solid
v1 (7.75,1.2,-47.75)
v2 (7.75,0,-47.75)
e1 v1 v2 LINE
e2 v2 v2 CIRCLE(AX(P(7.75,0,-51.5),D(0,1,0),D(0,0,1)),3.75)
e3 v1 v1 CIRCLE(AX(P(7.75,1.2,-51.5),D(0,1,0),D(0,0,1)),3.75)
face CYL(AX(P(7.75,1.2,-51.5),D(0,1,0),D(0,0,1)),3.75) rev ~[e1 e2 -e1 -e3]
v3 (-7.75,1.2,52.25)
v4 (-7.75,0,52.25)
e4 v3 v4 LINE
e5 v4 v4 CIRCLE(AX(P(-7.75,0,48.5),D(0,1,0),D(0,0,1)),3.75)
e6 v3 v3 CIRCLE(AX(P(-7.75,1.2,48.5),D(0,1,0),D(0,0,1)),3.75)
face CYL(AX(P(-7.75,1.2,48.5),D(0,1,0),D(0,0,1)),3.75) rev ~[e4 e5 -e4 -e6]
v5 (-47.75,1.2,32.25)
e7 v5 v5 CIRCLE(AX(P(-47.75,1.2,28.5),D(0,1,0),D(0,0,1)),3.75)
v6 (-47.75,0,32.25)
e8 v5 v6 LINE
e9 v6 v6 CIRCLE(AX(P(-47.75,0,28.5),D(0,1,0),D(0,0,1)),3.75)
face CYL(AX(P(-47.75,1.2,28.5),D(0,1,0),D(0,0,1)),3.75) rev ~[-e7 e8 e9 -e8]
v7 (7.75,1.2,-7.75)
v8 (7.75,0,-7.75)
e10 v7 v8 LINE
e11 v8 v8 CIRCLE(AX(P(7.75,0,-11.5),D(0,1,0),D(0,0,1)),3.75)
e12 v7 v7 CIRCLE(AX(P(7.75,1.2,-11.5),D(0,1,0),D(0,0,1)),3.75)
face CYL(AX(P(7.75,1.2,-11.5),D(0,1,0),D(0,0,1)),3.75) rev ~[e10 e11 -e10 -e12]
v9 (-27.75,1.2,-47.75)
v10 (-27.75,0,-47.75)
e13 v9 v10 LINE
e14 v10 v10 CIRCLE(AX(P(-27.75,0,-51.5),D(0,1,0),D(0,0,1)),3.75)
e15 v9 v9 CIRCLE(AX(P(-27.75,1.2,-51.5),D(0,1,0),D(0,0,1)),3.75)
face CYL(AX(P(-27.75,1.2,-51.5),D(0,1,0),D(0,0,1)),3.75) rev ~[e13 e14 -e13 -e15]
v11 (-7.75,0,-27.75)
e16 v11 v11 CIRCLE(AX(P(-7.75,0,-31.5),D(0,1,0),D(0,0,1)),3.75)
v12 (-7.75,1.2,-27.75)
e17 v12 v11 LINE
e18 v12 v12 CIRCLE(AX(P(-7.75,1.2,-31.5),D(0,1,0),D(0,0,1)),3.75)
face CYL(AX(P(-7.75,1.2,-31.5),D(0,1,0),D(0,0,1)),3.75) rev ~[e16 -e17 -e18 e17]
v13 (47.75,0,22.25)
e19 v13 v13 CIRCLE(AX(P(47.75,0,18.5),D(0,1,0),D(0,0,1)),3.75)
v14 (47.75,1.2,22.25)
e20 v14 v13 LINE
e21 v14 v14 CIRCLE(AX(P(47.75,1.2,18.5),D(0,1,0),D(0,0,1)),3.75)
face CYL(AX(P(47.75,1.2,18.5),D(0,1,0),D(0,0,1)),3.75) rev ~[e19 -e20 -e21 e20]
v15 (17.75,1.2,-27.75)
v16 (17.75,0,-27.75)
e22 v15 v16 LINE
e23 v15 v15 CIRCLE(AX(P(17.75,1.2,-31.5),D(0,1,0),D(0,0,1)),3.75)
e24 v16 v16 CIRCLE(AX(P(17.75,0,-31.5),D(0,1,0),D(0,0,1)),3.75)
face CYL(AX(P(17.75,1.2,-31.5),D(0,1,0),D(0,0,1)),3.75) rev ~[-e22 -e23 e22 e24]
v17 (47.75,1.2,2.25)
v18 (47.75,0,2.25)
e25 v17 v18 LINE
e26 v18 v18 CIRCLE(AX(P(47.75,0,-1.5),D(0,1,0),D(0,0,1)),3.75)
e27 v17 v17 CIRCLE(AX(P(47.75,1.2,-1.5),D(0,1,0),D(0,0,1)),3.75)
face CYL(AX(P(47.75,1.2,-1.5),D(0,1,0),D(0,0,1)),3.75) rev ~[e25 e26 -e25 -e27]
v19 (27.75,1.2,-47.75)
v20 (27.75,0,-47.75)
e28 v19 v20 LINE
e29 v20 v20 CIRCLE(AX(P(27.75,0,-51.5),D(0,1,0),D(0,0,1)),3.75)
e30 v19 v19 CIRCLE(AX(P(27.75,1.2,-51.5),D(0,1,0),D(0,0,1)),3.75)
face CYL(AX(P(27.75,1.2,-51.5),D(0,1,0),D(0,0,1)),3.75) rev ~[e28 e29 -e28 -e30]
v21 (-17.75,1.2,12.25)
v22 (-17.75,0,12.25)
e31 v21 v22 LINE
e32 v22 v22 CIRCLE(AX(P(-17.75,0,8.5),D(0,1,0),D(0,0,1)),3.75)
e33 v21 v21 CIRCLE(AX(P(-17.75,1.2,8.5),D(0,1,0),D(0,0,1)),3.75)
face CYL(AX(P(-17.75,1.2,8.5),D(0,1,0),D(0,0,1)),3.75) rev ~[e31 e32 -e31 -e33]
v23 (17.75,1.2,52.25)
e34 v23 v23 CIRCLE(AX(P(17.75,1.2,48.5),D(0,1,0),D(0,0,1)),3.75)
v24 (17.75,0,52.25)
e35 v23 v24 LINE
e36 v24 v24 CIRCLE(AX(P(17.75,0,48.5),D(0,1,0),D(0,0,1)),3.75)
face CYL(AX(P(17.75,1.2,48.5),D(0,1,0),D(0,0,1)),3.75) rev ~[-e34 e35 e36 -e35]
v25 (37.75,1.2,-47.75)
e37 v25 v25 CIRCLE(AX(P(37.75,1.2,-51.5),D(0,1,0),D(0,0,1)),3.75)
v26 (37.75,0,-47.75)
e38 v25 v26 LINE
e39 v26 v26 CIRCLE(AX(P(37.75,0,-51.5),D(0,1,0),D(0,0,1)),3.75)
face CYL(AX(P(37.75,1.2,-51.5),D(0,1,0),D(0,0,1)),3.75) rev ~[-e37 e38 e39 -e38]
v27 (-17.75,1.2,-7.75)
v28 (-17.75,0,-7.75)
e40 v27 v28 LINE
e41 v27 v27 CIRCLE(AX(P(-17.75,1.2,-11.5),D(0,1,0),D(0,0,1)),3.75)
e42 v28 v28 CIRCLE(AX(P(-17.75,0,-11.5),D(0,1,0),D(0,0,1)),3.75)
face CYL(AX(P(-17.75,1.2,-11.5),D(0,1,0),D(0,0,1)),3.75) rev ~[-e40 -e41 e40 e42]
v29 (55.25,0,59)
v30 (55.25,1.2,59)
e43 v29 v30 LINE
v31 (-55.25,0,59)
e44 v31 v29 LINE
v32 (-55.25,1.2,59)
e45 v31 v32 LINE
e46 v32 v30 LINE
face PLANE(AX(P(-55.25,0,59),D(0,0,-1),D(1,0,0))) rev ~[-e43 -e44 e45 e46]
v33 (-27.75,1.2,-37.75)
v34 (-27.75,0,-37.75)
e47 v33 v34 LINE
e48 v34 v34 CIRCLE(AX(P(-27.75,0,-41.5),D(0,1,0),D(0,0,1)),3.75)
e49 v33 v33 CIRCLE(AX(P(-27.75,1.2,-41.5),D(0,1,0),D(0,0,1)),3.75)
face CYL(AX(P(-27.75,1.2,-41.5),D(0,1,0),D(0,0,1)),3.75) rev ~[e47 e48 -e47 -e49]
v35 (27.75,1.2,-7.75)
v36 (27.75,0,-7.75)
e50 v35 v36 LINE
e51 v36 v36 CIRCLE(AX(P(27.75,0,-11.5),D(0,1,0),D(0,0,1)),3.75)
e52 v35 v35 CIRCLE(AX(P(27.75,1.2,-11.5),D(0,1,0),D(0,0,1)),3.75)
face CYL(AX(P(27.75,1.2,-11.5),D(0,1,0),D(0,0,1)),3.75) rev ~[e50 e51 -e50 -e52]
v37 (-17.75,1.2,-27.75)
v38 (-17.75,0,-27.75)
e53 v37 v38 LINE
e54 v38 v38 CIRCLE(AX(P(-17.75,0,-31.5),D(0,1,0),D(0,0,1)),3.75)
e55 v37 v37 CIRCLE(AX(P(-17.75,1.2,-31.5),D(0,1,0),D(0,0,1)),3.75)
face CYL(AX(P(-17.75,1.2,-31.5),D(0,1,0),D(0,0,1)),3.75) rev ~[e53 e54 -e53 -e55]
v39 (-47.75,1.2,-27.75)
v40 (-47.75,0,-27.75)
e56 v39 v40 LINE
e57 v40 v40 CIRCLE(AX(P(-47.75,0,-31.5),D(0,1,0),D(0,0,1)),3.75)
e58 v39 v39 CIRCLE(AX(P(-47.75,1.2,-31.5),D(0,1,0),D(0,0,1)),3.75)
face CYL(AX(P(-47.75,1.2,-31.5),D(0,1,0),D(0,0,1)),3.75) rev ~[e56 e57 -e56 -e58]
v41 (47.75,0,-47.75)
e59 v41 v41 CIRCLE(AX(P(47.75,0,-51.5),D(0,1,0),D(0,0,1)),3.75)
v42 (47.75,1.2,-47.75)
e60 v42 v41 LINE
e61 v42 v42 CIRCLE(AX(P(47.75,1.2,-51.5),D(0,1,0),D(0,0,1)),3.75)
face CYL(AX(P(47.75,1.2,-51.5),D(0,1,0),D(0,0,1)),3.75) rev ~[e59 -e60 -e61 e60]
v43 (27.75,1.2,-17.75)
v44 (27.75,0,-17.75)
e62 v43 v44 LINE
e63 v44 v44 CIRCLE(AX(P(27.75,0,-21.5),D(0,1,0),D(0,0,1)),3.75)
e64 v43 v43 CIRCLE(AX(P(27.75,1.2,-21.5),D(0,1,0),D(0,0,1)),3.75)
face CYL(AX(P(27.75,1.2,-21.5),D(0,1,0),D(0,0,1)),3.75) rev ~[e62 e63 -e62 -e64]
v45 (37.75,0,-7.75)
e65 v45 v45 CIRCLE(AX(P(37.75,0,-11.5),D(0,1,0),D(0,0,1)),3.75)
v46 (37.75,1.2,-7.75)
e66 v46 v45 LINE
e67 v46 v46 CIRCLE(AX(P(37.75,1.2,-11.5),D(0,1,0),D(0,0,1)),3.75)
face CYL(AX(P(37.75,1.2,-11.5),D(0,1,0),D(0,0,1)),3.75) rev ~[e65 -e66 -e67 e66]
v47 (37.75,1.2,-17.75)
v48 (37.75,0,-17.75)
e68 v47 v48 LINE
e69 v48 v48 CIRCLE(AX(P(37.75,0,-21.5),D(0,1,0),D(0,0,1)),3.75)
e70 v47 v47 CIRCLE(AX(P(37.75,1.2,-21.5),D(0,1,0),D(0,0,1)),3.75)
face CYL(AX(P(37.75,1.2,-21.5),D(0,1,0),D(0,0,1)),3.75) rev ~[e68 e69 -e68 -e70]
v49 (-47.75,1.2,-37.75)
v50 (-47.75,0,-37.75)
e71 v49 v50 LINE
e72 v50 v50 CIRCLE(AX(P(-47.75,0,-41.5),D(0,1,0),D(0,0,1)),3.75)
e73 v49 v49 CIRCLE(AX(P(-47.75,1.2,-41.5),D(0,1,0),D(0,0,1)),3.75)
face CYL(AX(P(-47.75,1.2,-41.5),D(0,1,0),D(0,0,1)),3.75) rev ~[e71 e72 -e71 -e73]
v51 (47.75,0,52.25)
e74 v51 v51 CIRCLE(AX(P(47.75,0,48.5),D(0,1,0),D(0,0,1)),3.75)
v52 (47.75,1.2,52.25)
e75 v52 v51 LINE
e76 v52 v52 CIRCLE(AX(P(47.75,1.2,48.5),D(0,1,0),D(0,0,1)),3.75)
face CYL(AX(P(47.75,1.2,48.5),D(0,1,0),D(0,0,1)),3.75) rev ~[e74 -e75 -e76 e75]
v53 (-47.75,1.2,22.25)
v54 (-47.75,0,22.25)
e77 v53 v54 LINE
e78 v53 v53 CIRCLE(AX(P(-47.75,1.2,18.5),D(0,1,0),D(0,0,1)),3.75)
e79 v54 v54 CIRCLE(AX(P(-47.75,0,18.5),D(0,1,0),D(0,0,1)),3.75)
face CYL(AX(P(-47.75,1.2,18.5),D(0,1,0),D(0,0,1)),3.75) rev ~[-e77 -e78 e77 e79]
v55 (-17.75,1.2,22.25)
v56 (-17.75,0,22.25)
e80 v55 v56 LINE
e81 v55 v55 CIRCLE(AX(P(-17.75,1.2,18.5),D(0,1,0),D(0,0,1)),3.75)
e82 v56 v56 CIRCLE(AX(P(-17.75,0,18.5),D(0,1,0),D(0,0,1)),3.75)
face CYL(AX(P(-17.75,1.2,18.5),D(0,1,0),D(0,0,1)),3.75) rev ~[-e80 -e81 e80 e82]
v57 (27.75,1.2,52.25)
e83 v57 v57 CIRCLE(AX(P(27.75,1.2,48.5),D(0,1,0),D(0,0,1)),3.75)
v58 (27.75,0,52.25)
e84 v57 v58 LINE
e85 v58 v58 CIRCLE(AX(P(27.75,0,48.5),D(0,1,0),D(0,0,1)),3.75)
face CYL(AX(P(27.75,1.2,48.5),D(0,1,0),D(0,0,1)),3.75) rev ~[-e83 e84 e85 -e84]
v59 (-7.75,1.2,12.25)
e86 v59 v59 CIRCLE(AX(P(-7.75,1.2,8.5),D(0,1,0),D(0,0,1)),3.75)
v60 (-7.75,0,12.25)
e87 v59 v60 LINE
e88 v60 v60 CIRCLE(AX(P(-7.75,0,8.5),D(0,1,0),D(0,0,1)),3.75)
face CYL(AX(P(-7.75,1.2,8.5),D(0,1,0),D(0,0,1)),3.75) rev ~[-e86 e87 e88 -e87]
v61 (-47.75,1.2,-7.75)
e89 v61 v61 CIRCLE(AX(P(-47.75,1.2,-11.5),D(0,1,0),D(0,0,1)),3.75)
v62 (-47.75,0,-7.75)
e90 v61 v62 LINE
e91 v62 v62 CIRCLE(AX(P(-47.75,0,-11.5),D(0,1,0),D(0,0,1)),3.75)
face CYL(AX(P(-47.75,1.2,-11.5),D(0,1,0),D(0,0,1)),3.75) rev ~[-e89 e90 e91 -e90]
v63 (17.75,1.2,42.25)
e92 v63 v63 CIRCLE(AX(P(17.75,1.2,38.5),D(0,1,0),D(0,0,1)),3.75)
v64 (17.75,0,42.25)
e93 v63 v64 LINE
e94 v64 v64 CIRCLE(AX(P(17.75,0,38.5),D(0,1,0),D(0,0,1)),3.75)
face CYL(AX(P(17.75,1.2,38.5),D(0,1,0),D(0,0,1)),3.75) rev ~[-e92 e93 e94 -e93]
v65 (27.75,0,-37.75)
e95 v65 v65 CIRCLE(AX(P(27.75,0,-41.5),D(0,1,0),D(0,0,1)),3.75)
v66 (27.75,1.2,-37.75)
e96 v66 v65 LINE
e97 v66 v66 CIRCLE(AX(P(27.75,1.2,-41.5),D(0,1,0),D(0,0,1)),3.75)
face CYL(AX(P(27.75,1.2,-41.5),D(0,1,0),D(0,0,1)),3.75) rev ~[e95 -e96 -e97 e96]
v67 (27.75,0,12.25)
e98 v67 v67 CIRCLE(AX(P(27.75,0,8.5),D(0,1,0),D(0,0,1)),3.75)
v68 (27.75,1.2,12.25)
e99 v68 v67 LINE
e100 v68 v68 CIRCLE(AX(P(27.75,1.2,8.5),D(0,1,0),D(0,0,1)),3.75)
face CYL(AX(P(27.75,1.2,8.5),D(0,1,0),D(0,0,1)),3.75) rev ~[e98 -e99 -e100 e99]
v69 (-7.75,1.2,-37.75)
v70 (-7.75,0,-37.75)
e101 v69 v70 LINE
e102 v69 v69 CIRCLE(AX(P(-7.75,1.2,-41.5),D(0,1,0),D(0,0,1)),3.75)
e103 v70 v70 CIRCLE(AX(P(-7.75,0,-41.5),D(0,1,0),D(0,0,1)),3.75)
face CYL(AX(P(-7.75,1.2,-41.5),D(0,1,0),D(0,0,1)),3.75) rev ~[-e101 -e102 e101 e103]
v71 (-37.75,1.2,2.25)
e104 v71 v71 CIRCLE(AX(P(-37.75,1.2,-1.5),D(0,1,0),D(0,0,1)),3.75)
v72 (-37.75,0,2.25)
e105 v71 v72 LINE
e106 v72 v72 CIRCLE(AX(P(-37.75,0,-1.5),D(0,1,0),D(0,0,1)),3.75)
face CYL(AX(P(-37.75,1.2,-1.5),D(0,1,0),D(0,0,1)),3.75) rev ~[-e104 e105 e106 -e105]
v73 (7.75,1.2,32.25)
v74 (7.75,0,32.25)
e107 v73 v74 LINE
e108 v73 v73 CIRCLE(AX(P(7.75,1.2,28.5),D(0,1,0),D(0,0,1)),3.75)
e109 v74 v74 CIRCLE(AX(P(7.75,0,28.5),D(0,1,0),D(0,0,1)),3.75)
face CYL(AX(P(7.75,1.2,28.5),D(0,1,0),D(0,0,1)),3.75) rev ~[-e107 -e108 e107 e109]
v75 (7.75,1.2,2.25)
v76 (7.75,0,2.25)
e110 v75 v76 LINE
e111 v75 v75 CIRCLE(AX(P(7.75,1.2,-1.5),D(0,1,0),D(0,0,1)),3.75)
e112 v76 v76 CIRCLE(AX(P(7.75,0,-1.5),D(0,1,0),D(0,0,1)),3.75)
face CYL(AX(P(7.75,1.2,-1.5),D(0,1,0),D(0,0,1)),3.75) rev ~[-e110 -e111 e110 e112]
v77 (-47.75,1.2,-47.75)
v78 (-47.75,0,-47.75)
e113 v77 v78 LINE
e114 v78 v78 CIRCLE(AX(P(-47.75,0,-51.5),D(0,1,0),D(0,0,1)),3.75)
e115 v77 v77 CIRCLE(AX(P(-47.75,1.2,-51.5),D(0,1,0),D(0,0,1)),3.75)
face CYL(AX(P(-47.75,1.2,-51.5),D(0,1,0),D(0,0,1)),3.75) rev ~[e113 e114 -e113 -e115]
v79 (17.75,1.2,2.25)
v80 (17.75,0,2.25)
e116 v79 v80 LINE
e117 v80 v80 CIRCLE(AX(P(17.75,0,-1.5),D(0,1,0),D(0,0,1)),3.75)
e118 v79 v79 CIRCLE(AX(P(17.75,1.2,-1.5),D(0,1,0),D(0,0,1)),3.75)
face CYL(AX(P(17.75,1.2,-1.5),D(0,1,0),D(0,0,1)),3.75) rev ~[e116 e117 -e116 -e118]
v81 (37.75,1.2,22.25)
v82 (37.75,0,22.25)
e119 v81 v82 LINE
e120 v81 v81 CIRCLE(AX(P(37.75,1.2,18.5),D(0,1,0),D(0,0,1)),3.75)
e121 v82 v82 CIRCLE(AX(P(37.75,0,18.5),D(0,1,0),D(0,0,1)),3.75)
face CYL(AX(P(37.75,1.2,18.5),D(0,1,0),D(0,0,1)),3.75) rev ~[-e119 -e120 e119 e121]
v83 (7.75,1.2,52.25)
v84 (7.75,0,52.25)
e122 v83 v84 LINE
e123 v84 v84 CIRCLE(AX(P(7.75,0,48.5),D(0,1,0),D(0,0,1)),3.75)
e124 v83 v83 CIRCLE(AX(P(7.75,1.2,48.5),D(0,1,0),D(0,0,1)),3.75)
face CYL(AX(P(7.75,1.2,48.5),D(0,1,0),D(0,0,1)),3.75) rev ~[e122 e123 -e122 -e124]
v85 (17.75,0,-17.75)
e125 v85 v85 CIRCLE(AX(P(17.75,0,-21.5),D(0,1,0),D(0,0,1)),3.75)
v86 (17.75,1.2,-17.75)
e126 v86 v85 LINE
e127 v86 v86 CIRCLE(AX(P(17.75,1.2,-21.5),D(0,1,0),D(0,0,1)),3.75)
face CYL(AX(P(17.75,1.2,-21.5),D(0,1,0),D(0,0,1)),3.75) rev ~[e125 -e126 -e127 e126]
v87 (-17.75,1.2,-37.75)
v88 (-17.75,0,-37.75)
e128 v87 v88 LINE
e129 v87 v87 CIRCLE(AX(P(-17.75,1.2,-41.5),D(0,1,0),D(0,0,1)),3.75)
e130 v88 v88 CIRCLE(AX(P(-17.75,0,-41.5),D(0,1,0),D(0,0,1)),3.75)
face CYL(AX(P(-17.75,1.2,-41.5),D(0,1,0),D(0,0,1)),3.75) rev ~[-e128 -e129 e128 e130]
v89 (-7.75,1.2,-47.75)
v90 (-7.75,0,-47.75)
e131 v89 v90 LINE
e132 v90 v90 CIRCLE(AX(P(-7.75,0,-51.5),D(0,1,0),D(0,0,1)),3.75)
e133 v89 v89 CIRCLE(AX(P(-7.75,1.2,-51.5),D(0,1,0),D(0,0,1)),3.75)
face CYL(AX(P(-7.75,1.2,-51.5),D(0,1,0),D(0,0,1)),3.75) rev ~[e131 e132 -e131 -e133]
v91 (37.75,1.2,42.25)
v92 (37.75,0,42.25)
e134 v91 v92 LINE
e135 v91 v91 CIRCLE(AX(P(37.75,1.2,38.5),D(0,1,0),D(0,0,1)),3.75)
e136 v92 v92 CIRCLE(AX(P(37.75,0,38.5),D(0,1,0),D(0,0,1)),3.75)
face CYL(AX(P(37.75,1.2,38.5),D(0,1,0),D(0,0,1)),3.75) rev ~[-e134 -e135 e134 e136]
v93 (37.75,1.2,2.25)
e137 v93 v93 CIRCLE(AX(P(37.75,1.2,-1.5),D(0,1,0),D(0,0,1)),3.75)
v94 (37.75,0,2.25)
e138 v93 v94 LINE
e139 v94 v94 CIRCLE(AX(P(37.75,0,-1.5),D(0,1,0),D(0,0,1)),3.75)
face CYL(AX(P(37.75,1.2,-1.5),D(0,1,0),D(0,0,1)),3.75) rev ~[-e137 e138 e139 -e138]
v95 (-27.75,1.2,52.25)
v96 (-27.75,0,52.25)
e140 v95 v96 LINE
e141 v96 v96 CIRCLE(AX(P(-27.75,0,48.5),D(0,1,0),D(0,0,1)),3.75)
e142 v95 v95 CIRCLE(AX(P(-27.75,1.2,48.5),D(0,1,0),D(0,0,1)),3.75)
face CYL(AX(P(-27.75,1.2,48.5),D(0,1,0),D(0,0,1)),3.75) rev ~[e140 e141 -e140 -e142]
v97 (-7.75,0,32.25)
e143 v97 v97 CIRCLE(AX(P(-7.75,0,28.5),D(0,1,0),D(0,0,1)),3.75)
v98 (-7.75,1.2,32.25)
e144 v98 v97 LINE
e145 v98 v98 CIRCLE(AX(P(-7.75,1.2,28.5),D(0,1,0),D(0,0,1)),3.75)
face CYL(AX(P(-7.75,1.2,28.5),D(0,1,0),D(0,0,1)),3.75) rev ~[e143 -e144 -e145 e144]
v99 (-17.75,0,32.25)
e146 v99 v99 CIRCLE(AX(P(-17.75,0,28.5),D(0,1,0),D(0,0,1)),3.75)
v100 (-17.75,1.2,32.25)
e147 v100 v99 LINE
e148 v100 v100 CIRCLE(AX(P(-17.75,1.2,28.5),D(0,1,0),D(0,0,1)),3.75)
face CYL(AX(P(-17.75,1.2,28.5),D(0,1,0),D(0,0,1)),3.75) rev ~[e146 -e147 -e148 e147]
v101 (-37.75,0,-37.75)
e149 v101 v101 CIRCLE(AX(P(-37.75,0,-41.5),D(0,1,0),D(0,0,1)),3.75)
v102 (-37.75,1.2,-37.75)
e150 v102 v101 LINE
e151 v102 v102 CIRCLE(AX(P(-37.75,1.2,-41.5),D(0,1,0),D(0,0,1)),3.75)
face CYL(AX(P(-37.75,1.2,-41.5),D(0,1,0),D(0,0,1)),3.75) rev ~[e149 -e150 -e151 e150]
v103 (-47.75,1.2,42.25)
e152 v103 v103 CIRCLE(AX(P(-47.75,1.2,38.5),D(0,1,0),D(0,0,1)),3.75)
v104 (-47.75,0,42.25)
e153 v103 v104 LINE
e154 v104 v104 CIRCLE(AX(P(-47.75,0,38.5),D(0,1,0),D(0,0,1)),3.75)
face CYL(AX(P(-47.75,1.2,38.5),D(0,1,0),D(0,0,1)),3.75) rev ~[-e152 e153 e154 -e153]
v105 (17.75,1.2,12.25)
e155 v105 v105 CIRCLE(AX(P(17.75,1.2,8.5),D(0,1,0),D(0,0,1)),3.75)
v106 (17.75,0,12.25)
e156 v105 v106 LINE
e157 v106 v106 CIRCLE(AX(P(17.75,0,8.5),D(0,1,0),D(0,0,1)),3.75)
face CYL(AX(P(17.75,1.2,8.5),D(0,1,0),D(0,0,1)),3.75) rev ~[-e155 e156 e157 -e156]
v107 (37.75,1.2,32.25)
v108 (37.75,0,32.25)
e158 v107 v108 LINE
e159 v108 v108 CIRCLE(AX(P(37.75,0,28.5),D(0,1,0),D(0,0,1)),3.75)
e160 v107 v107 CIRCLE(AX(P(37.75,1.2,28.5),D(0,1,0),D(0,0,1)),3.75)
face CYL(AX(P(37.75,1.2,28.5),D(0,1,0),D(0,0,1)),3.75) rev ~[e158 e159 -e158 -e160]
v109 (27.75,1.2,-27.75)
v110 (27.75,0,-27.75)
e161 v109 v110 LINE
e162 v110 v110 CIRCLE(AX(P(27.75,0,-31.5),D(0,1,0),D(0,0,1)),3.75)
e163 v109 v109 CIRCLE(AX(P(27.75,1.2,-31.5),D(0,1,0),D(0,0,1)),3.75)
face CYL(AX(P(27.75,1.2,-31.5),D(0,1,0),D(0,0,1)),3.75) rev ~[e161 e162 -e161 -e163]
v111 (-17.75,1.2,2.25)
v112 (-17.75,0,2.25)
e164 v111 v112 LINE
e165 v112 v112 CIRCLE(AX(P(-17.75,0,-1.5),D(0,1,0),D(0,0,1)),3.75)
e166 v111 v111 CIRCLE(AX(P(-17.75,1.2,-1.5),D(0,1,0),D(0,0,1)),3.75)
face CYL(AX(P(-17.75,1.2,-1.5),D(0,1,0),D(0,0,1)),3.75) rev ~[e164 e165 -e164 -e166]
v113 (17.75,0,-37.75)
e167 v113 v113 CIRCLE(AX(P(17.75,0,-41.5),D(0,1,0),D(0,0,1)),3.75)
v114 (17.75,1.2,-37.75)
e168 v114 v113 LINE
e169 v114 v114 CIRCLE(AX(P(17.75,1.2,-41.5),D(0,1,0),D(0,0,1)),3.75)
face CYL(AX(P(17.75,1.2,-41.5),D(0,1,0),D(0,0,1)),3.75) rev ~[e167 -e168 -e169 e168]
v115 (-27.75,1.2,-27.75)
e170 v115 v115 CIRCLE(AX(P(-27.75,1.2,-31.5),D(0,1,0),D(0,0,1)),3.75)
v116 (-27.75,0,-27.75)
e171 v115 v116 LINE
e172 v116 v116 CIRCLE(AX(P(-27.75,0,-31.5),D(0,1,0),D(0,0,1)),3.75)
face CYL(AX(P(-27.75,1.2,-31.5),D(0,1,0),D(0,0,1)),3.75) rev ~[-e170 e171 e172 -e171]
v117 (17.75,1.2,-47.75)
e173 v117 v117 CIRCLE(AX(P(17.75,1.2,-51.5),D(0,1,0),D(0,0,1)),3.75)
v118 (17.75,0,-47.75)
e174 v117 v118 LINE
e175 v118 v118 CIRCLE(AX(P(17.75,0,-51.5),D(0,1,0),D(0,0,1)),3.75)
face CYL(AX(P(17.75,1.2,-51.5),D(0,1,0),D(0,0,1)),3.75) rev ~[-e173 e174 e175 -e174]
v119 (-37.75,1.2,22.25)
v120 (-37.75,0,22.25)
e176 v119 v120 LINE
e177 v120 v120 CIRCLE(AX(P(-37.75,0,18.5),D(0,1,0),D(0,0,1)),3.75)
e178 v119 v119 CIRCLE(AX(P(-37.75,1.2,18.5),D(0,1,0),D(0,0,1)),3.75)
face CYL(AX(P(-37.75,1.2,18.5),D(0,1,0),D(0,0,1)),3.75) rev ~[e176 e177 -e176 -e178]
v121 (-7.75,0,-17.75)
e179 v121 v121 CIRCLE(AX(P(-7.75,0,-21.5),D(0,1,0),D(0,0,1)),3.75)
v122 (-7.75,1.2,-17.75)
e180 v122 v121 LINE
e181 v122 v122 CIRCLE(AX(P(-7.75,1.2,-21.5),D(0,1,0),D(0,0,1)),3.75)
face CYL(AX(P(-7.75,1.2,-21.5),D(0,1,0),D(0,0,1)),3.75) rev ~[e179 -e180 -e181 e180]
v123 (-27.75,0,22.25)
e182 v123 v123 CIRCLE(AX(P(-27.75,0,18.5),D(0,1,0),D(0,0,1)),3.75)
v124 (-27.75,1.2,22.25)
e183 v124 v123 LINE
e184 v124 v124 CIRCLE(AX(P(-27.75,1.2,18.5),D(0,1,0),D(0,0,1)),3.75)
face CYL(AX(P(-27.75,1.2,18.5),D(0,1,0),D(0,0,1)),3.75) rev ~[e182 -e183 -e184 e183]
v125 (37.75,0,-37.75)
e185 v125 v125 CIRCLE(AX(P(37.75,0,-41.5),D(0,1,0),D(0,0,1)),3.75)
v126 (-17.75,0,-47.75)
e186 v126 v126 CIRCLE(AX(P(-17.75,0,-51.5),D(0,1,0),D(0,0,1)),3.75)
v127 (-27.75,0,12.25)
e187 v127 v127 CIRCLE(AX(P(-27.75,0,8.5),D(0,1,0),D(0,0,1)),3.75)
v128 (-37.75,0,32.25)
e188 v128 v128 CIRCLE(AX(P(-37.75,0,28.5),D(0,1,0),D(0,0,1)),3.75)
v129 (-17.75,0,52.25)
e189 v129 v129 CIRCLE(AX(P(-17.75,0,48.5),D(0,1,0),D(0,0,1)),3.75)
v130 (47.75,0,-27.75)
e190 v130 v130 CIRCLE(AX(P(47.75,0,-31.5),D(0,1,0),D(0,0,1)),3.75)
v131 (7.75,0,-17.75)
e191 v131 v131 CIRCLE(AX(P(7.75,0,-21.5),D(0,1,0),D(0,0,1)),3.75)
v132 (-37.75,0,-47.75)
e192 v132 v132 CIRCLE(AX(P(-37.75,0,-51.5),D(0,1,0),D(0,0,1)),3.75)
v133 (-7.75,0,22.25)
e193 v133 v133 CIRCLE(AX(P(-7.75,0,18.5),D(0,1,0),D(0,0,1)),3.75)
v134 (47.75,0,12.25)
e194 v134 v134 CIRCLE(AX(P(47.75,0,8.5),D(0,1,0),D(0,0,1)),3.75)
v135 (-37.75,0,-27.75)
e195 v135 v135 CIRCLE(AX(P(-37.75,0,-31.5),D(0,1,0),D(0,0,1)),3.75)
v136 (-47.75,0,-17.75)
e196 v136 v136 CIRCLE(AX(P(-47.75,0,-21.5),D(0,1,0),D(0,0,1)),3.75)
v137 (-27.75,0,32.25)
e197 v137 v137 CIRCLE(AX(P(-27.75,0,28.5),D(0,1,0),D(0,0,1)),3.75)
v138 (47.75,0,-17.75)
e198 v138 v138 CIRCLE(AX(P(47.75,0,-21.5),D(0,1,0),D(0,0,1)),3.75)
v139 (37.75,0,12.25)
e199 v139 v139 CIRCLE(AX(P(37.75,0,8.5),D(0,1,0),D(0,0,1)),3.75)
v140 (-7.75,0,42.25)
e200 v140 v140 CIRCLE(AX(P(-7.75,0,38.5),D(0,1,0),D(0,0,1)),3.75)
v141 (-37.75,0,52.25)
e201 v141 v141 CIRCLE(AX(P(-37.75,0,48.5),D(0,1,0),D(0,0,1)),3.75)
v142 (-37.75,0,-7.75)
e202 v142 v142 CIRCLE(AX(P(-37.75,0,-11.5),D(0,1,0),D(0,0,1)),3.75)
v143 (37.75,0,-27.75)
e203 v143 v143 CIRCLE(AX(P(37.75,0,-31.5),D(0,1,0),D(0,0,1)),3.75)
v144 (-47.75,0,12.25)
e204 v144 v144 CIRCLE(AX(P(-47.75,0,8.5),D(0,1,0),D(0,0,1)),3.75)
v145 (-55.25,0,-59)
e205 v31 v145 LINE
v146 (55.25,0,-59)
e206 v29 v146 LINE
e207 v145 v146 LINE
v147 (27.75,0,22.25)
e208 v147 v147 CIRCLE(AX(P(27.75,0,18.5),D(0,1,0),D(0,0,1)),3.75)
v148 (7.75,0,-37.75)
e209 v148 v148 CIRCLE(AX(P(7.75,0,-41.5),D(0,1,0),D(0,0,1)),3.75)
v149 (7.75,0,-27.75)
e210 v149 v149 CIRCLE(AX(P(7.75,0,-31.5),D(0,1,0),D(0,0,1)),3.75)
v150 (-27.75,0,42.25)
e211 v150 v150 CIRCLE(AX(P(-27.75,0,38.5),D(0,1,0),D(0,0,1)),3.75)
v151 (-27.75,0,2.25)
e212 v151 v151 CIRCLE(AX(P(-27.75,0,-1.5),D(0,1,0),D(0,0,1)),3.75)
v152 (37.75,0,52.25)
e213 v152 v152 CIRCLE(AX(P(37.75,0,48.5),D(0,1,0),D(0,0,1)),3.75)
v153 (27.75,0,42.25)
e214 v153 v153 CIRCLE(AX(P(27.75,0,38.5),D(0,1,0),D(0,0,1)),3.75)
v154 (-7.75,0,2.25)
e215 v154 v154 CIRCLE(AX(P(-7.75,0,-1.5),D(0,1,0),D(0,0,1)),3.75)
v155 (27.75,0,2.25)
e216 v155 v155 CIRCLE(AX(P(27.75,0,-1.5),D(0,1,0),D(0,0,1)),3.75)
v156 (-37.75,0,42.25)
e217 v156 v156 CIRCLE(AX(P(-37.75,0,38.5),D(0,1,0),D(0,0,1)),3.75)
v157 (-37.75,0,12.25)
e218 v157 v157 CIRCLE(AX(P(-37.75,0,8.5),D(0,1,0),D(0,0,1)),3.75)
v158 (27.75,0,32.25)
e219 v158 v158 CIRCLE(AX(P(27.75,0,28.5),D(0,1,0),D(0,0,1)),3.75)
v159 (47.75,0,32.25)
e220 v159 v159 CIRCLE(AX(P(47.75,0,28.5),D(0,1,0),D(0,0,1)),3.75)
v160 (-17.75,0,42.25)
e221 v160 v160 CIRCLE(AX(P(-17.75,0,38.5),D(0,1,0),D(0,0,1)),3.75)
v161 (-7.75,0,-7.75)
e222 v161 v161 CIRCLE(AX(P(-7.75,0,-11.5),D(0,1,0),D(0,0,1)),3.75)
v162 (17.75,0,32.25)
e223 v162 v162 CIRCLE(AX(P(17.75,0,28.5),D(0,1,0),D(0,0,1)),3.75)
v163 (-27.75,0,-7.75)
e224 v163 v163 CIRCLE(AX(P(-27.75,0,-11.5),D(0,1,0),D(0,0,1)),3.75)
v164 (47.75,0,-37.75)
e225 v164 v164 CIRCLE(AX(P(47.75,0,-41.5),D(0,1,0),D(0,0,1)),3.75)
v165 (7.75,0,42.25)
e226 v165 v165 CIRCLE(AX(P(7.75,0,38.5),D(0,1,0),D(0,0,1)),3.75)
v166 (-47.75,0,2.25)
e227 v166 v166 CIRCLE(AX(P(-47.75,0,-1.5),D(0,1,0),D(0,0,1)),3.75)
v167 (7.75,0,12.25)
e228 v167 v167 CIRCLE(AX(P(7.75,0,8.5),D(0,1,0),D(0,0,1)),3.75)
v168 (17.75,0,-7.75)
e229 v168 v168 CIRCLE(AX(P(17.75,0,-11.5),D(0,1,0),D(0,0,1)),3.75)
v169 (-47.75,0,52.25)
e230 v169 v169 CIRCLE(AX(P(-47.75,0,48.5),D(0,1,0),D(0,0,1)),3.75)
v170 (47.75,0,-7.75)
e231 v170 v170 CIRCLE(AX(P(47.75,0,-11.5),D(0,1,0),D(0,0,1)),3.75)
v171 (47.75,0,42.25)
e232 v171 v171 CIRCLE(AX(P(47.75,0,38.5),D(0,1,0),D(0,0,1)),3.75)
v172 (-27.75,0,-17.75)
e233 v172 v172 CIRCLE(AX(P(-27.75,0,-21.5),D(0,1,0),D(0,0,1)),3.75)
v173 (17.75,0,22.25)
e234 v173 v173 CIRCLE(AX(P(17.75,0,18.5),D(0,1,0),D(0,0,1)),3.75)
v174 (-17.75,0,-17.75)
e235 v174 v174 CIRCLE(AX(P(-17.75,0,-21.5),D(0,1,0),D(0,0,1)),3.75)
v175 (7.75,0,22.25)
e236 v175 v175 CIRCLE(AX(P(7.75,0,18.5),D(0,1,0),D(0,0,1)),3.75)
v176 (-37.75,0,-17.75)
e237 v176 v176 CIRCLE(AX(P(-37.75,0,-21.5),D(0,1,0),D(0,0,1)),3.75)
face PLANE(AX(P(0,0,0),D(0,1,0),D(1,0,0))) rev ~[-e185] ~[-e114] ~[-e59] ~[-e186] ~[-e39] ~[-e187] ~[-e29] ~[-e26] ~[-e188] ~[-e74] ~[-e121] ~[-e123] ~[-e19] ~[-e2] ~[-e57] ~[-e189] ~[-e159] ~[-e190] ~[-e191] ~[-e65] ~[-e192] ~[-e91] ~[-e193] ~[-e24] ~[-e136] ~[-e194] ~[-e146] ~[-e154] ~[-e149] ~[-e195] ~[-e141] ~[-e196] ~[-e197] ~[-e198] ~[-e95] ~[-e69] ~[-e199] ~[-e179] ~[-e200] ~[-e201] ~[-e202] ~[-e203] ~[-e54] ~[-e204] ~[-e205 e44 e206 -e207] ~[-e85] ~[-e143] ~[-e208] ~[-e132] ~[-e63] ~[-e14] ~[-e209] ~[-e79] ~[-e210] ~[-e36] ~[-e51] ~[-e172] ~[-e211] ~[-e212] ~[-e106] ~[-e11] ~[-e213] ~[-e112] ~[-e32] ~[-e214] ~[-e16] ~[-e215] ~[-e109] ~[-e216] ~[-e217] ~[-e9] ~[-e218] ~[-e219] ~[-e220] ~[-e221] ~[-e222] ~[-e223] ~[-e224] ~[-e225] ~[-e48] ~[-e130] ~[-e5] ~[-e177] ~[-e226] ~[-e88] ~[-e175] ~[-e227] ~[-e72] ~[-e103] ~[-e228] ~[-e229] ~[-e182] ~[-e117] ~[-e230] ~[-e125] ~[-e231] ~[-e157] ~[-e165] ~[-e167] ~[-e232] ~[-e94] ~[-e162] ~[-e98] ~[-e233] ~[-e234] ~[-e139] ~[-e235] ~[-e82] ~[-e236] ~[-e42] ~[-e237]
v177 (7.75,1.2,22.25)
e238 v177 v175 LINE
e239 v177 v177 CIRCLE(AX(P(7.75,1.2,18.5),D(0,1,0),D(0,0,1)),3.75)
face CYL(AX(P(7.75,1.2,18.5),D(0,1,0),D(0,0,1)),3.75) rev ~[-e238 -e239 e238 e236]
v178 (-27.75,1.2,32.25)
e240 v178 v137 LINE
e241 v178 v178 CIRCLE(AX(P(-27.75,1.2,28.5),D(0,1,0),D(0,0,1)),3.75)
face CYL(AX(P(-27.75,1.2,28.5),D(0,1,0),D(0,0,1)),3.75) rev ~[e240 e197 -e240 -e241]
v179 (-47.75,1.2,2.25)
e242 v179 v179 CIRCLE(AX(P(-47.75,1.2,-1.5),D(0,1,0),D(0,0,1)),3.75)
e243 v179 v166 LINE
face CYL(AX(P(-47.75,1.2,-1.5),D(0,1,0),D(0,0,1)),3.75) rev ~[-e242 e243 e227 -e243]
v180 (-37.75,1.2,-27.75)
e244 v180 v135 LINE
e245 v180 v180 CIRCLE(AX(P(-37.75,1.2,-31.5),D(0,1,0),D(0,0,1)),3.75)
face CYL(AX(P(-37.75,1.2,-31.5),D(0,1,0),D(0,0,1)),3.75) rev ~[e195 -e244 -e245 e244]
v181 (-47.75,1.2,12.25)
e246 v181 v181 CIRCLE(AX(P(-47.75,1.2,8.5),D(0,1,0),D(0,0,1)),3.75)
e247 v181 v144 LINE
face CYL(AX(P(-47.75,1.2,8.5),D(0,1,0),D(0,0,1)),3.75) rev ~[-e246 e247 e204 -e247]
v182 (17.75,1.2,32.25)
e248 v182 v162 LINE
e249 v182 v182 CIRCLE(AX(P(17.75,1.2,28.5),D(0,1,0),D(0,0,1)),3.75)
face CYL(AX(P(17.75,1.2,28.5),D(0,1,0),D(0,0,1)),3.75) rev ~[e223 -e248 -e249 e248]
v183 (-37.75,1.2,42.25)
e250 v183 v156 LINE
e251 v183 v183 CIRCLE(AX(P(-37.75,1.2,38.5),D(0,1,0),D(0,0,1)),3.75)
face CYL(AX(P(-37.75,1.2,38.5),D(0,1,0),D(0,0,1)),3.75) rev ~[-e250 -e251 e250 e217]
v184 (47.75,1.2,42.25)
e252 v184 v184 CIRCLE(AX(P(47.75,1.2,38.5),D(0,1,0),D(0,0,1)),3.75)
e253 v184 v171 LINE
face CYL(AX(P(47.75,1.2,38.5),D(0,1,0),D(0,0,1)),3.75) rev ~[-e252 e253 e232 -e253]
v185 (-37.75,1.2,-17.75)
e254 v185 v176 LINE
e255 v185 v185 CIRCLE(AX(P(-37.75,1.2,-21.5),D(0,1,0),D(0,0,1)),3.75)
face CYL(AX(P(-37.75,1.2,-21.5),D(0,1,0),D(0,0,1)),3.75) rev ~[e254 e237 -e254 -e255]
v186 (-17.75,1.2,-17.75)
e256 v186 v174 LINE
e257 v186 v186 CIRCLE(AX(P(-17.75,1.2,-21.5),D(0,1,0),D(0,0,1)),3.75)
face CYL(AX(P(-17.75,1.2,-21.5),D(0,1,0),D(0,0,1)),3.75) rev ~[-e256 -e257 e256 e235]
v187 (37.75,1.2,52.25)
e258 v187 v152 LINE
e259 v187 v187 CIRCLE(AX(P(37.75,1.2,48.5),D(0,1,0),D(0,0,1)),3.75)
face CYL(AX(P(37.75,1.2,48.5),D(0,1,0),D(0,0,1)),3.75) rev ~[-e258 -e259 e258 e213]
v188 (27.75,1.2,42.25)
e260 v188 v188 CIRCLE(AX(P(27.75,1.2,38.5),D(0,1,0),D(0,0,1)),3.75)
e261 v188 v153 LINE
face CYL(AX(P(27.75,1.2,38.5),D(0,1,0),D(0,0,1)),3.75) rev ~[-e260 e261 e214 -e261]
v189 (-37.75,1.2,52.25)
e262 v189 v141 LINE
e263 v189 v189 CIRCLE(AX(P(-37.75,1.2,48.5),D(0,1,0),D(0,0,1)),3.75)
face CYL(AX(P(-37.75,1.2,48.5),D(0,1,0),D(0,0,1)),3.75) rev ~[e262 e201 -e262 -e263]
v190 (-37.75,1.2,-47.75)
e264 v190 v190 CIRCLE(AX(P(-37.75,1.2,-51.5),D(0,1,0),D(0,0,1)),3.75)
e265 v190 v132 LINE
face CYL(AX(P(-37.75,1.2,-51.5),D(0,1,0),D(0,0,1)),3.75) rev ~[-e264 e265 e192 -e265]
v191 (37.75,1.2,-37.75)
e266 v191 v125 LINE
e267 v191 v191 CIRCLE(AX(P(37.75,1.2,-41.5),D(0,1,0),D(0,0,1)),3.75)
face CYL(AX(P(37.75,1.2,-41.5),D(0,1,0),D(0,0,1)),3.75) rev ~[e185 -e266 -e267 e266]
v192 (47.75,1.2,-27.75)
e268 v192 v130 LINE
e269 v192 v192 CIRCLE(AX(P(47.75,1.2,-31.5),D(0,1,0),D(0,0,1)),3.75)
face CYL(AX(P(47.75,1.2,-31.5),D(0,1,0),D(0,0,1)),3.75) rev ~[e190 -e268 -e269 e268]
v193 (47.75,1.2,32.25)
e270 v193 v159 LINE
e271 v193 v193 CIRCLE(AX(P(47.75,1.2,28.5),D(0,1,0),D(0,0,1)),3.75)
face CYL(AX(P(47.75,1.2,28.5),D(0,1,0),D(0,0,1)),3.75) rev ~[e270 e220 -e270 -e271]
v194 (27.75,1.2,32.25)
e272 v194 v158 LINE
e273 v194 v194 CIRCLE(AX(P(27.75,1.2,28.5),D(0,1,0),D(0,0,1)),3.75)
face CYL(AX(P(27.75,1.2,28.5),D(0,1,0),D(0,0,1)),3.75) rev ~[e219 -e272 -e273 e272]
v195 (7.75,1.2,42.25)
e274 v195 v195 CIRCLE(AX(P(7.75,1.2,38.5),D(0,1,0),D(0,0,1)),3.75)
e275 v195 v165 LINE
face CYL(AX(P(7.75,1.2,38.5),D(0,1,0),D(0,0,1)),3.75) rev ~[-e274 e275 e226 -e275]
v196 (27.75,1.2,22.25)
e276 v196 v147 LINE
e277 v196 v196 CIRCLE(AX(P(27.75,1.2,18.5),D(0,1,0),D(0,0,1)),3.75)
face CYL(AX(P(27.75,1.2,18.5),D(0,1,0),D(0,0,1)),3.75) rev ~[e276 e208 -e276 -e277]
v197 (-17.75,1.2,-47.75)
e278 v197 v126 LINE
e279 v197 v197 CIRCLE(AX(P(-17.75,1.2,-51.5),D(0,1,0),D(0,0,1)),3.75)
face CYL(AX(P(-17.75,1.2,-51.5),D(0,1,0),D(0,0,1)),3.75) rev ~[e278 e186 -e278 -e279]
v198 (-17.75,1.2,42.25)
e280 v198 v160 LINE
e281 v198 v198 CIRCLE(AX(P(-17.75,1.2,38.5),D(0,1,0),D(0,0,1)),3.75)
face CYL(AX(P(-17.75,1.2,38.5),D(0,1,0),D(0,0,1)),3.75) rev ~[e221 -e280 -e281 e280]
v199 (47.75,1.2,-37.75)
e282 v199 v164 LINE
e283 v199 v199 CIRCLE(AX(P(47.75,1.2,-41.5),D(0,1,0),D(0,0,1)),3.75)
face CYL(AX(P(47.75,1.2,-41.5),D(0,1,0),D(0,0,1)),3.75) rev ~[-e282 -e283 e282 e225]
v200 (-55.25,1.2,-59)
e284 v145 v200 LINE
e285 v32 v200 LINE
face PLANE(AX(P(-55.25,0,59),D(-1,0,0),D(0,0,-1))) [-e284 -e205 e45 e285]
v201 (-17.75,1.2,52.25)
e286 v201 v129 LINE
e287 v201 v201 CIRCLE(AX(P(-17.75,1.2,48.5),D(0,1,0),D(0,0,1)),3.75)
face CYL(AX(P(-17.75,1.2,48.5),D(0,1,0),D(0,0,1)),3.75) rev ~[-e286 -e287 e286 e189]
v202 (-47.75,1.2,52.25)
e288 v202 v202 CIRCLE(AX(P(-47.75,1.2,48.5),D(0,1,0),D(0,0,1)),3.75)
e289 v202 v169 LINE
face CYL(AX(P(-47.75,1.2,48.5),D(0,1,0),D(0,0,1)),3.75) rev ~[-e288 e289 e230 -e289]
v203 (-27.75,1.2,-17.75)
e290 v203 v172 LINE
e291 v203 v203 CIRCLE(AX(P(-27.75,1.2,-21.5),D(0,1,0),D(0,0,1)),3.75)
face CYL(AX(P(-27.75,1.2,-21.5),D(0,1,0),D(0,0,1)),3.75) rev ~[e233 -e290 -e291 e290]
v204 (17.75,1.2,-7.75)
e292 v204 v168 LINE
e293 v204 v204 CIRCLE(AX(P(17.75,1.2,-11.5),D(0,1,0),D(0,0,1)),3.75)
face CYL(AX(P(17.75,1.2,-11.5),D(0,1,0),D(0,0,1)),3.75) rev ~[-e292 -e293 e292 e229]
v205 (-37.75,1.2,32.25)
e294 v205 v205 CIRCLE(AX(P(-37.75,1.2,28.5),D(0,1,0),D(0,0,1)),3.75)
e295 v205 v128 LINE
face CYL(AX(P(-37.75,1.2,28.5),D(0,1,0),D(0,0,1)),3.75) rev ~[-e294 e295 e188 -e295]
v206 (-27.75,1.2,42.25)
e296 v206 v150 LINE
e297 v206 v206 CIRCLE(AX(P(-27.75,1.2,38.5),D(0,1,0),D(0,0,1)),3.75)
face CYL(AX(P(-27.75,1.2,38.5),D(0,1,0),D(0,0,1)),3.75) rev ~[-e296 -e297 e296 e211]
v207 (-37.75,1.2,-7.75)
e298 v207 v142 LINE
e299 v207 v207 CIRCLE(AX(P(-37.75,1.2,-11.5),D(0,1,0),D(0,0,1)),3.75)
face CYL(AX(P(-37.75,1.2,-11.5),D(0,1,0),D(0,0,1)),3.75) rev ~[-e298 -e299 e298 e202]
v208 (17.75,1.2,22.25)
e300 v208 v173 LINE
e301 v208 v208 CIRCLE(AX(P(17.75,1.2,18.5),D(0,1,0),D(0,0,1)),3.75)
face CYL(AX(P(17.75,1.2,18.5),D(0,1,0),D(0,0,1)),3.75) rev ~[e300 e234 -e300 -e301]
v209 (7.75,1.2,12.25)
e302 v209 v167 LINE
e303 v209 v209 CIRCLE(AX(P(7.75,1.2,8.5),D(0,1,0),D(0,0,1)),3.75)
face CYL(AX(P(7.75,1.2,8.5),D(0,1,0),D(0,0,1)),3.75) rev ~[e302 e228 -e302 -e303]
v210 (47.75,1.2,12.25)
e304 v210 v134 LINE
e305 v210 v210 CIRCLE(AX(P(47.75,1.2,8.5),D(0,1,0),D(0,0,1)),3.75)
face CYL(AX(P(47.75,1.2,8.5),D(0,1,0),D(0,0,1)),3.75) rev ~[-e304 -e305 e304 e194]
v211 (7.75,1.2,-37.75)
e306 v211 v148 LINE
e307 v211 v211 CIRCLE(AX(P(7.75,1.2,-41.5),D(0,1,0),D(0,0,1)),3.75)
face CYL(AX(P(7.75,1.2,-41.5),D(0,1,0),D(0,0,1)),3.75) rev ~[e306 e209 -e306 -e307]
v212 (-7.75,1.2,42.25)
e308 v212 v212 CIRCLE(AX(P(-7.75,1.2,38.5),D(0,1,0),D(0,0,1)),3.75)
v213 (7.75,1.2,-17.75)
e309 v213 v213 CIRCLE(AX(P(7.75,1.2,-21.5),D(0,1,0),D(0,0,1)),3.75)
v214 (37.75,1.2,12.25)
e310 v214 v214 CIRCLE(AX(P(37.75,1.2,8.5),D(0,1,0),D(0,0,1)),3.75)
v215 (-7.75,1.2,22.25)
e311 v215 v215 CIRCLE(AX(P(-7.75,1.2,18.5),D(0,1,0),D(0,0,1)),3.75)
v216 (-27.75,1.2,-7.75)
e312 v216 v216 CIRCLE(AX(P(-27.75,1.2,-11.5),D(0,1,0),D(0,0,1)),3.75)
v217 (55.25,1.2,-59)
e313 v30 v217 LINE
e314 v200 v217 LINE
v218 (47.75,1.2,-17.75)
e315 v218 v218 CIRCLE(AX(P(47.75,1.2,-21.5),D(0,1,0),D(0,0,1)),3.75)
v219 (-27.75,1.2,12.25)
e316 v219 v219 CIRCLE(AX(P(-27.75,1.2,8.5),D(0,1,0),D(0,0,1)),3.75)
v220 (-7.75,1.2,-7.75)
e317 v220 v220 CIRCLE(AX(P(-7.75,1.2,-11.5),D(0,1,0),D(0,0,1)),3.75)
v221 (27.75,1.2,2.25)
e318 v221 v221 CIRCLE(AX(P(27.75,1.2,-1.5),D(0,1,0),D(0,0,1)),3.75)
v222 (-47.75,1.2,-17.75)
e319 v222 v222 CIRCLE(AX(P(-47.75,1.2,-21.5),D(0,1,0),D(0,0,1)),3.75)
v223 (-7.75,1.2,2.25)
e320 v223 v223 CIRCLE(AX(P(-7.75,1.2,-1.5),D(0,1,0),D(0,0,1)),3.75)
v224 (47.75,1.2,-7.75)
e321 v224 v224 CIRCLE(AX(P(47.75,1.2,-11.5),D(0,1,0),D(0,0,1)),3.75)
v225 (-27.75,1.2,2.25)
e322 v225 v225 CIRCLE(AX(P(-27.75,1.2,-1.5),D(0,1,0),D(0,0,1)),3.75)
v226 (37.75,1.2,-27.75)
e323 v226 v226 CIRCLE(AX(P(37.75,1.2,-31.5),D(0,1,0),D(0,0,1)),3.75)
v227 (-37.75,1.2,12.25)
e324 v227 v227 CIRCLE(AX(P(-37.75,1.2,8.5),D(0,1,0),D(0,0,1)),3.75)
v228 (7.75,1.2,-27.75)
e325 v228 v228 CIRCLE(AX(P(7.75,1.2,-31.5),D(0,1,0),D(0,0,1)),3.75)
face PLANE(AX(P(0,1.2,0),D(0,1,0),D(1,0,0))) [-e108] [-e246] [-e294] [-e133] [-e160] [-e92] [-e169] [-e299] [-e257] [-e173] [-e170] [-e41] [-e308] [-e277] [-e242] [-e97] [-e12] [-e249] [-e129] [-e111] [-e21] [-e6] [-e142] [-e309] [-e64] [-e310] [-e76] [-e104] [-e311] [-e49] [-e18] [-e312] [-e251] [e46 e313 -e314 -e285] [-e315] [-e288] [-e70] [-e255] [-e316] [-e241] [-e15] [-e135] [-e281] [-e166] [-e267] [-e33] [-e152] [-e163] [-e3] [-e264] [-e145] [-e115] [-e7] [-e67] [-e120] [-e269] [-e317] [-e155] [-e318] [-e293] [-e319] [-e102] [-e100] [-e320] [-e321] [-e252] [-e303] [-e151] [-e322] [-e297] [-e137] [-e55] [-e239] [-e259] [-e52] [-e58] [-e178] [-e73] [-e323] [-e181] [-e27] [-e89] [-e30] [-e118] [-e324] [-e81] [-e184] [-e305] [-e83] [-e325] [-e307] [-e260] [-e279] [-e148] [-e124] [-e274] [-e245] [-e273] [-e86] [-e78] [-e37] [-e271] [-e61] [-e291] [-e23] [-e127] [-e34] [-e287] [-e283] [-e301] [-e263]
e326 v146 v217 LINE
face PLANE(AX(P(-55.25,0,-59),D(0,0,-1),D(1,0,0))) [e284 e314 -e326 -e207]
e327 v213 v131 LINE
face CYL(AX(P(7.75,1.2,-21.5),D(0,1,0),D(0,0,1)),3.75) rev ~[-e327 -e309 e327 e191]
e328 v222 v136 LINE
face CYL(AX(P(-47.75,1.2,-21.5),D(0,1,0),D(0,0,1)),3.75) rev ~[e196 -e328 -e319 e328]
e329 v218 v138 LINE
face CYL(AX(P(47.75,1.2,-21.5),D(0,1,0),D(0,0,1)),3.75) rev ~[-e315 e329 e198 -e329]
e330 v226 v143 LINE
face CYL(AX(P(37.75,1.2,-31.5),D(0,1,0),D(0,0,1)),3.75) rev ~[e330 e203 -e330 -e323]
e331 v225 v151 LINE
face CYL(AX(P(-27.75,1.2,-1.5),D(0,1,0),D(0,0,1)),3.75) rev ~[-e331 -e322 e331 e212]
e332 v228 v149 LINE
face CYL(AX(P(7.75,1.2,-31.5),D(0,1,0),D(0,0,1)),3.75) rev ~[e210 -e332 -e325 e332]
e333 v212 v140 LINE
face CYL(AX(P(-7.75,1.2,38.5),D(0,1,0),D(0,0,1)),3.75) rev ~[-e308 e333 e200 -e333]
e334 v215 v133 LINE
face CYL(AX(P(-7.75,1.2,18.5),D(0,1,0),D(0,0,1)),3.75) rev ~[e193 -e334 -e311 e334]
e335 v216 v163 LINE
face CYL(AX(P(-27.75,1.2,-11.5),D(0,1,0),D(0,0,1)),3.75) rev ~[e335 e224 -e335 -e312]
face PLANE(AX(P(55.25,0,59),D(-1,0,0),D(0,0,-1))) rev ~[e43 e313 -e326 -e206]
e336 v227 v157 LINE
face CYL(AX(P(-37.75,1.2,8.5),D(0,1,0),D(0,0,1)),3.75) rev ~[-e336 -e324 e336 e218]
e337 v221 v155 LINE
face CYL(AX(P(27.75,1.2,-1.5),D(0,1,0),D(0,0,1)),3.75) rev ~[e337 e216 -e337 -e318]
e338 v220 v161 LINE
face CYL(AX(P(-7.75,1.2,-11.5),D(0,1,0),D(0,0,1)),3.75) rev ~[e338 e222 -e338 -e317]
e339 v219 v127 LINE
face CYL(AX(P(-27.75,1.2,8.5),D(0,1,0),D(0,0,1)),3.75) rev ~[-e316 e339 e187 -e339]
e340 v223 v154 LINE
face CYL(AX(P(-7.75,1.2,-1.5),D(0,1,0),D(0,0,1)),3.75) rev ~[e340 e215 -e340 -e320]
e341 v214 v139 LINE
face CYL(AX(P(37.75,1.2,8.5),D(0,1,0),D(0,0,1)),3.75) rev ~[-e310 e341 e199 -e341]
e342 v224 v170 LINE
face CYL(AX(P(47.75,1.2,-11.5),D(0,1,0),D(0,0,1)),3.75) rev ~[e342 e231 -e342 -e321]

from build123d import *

# Parameters (mm, degrees)
SKETCH1_W           = 110.5
SKETCH1_H           = 118
BOSS_EXTRUDE1_DEPTH = 1.2
CUT_EXTRUDE1_REACH  = 82.839
SKETCH2_R           = 3.75
LPATTERN1_COUNT     = 11
LPATTERN1_PITCH     = 10


with BuildPart() as part:
    # Sketch1 → Boss-Extrude1 (new body)
    with BuildSketch(Plane(origin=(0, 0, 0), x_dir=(1, 0, 0), z_dir=(0, 1, 0))):
        Rectangle(SKETCH1_W, SKETCH1_H)
    extrude(amount=BOSS_EXTRUDE1_DEPTH)

    # Sketch2 → Cut-Extrude1 (cut, up to next)
    with BuildSketch(Plane(origin=(0, 1.2, 0), x_dir=(1, 0, 0), z_dir=(0, 1, 0)), mode=Mode.PRIVATE) as cut_extrude1_sk1:
        with Locations(Location((-27.75, 51.5, 0), (0, 0, 270))):
            Circle(SKETCH2_R)
    cut_extrude1_tool1 = extrude(cut_extrude1_sk1.sketch, amount=-CUT_EXTRUDE1_REACH, mode=Mode.PRIVATE) & part.part
    # Sketch2 → Cut-Extrude1 (cut, up to next)
    with BuildSketch(Plane(origin=(0, 1.2, 0), x_dir=(1, 0, 0), z_dir=(0, 1, 0)), mode=Mode.PRIVATE) as cut_extrude1_sk2:
        with Locations(Location((-47.75, 51.5, 0), (0, 0, 270))):
            Circle(SKETCH2_R)
    cut_extrude1_tool2 = extrude(cut_extrude1_sk2.sketch, amount=-CUT_EXTRUDE1_REACH, mode=Mode.PRIVATE) & part.part
    # Sketch2 → Cut-Extrude1 (cut, up to next)
    with BuildSketch(Plane(origin=(0, 1.2, 0), x_dir=(1, 0, 0), z_dir=(0, 1, 0)), mode=Mode.PRIVATE) as cut_extrude1_sk3:
        with Locations(Location((17.75, 51.5, 0), (0, 0, 270))):
            Circle(SKETCH2_R)
    cut_extrude1_tool3 = extrude(cut_extrude1_sk3.sketch, amount=-CUT_EXTRUDE1_REACH, mode=Mode.PRIVATE) & part.part
    # Sketch2 → Cut-Extrude1 (cut, up to next)
    with BuildSketch(Plane(origin=(0, 1.2, 0), x_dir=(1, 0, 0), z_dir=(0, 1, 0)), mode=Mode.PRIVATE) as cut_extrude1_sk4:
        with Locations(Location((27.75, 51.5, 0), (0, 0, 270))):
            Circle(SKETCH2_R)
    cut_extrude1_tool4 = extrude(cut_extrude1_sk4.sketch, amount=-CUT_EXTRUDE1_REACH, mode=Mode.PRIVATE) & part.part
    # Sketch2 → Cut-Extrude1 (cut, up to next)
    with BuildSketch(Plane(origin=(0, 1.2, 0), x_dir=(1, 0, 0), z_dir=(0, 1, 0)), mode=Mode.PRIVATE) as cut_extrude1_sk5:
        with Locations(Location((47.75, 51.5, 0), (0, 0, 270))):
            Circle(SKETCH2_R)
    cut_extrude1_tool5 = extrude(cut_extrude1_sk5.sketch, amount=-CUT_EXTRUDE1_REACH, mode=Mode.PRIVATE) & part.part
    # Sketch2 → Cut-Extrude1 (cut, up to next)
    with BuildSketch(Plane(origin=(0, 1.2, 0), x_dir=(1, 0, 0), z_dir=(0, 1, 0)), mode=Mode.PRIVATE) as cut_extrude1_sk6:
        with Locations(Location((37.75, 51.5, 0), (0, 0, 270))):
            Circle(SKETCH2_R)
    cut_extrude1_tool6 = extrude(cut_extrude1_sk6.sketch, amount=-CUT_EXTRUDE1_REACH, mode=Mode.PRIVATE) & part.part
    # Sketch2 → Cut-Extrude1 (cut, up to next)
    with BuildSketch(Plane(origin=(0, 1.2, 0), x_dir=(1, 0, 0), z_dir=(0, 1, 0)), mode=Mode.PRIVATE) as cut_extrude1_sk7:
        with Locations(Location((-17.75, 51.5, 0), (0, 0, 270))):
            Circle(SKETCH2_R)
    cut_extrude1_tool7 = extrude(cut_extrude1_sk7.sketch, amount=-CUT_EXTRUDE1_REACH, mode=Mode.PRIVATE) & part.part
    # Sketch2 → Cut-Extrude1 (cut, up to next)
    with BuildSketch(Plane(origin=(0, 1.2, 0), x_dir=(1, 0, 0), z_dir=(0, 1, 0)), mode=Mode.PRIVATE) as cut_extrude1_sk8:
        with Locations(Location((7.75, 51.5, 0), (0, 0, 270))):
            Circle(SKETCH2_R)
    cut_extrude1_tool8 = extrude(cut_extrude1_sk8.sketch, amount=-CUT_EXTRUDE1_REACH, mode=Mode.PRIVATE) & part.part
    # Sketch2 → Cut-Extrude1 (cut, up to next)
    with BuildSketch(Plane(origin=(0, 1.2, 0), x_dir=(1, 0, 0), z_dir=(0, 1, 0)), mode=Mode.PRIVATE) as cut_extrude1_sk9:
        with Locations(Location((-7.75, 51.5, 0), (0, 0, 270))):
            Circle(SKETCH2_R)
    cut_extrude1_tool9 = extrude(cut_extrude1_sk9.sketch, amount=-CUT_EXTRUDE1_REACH, mode=Mode.PRIVATE) & part.part
    # Sketch2 → Cut-Extrude1 (cut, up to next)
    with BuildSketch(Plane(origin=(0, 1.2, 0), x_dir=(1, 0, 0), z_dir=(0, 1, 0)), mode=Mode.PRIVATE) as cut_extrude1_sk10:
        with Locations(Location((-37.75, 51.5, 0), (0, 0, 270))):
            Circle(SKETCH2_R)
    cut_extrude1_tool10 = extrude(cut_extrude1_sk10.sketch, amount=-CUT_EXTRUDE1_REACH, mode=Mode.PRIVATE) & part.part
    cut_extrude1_1 = cut_extrude1_tool1.solids().sort_by_distance((-27.75, 1.2, -51.5))[0]
    add(cut_extrude1_1, mode=Mode.SUBTRACT)
    cut_extrude1_2 = cut_extrude1_tool2.solids().sort_by_distance((-47.75, 1.2, -51.5))[0]
    add(cut_extrude1_2, mode=Mode.SUBTRACT)
    cut_extrude1_3 = cut_extrude1_tool3.solids().sort_by_distance((17.75, 1.2, -51.5))[0]
    add(cut_extrude1_3, mode=Mode.SUBTRACT)
    cut_extrude1_4 = cut_extrude1_tool4.solids().sort_by_distance((27.75, 1.2, -51.5))[0]
    add(cut_extrude1_4, mode=Mode.SUBTRACT)
    cut_extrude1_5 = cut_extrude1_tool5.solids().sort_by_distance((47.75, 1.2, -51.5))[0]
    add(cut_extrude1_5, mode=Mode.SUBTRACT)
    cut_extrude1_6 = cut_extrude1_tool6.solids().sort_by_distance((37.75, 1.2, -51.5))[0]
    add(cut_extrude1_6, mode=Mode.SUBTRACT)
    cut_extrude1_7 = cut_extrude1_tool7.solids().sort_by_distance((-17.75, 1.2, -51.5))[0]
    add(cut_extrude1_7, mode=Mode.SUBTRACT)
    cut_extrude1_8 = cut_extrude1_tool8.solids().sort_by_distance((7.75, 1.2, -51.5))[0]
    add(cut_extrude1_8, mode=Mode.SUBTRACT)
    cut_extrude1_9 = cut_extrude1_tool9.solids().sort_by_distance((-7.75, 1.2, -51.5))[0]
    add(cut_extrude1_9, mode=Mode.SUBTRACT)
    cut_extrude1_10 = cut_extrude1_tool10.solids().sort_by_distance((-37.75, 1.2, -51.5))[0]
    add(cut_extrude1_10, mode=Mode.SUBTRACT)
    cut_extrude1 = cut_extrude1_1 + cut_extrude1_2 + cut_extrude1_3 + cut_extrude1_4 + cut_extrude1_5 + cut_extrude1_6 + cut_extrude1_7 + cut_extrude1_8 + cut_extrude1_9 + cut_extrude1_10  # Cut-Extrude1 as one shape, for the pattern or mirror that repeats it

    # LPattern1: Cut-Extrude1 ×11
    with Locations(*[(0, 0, i * LPATTERN1_PITCH) for i in range(1, LPATTERN1_COUNT)]):
        add(cut_extrude1, mode=Mode.SUBTRACT)


solid = part.part
